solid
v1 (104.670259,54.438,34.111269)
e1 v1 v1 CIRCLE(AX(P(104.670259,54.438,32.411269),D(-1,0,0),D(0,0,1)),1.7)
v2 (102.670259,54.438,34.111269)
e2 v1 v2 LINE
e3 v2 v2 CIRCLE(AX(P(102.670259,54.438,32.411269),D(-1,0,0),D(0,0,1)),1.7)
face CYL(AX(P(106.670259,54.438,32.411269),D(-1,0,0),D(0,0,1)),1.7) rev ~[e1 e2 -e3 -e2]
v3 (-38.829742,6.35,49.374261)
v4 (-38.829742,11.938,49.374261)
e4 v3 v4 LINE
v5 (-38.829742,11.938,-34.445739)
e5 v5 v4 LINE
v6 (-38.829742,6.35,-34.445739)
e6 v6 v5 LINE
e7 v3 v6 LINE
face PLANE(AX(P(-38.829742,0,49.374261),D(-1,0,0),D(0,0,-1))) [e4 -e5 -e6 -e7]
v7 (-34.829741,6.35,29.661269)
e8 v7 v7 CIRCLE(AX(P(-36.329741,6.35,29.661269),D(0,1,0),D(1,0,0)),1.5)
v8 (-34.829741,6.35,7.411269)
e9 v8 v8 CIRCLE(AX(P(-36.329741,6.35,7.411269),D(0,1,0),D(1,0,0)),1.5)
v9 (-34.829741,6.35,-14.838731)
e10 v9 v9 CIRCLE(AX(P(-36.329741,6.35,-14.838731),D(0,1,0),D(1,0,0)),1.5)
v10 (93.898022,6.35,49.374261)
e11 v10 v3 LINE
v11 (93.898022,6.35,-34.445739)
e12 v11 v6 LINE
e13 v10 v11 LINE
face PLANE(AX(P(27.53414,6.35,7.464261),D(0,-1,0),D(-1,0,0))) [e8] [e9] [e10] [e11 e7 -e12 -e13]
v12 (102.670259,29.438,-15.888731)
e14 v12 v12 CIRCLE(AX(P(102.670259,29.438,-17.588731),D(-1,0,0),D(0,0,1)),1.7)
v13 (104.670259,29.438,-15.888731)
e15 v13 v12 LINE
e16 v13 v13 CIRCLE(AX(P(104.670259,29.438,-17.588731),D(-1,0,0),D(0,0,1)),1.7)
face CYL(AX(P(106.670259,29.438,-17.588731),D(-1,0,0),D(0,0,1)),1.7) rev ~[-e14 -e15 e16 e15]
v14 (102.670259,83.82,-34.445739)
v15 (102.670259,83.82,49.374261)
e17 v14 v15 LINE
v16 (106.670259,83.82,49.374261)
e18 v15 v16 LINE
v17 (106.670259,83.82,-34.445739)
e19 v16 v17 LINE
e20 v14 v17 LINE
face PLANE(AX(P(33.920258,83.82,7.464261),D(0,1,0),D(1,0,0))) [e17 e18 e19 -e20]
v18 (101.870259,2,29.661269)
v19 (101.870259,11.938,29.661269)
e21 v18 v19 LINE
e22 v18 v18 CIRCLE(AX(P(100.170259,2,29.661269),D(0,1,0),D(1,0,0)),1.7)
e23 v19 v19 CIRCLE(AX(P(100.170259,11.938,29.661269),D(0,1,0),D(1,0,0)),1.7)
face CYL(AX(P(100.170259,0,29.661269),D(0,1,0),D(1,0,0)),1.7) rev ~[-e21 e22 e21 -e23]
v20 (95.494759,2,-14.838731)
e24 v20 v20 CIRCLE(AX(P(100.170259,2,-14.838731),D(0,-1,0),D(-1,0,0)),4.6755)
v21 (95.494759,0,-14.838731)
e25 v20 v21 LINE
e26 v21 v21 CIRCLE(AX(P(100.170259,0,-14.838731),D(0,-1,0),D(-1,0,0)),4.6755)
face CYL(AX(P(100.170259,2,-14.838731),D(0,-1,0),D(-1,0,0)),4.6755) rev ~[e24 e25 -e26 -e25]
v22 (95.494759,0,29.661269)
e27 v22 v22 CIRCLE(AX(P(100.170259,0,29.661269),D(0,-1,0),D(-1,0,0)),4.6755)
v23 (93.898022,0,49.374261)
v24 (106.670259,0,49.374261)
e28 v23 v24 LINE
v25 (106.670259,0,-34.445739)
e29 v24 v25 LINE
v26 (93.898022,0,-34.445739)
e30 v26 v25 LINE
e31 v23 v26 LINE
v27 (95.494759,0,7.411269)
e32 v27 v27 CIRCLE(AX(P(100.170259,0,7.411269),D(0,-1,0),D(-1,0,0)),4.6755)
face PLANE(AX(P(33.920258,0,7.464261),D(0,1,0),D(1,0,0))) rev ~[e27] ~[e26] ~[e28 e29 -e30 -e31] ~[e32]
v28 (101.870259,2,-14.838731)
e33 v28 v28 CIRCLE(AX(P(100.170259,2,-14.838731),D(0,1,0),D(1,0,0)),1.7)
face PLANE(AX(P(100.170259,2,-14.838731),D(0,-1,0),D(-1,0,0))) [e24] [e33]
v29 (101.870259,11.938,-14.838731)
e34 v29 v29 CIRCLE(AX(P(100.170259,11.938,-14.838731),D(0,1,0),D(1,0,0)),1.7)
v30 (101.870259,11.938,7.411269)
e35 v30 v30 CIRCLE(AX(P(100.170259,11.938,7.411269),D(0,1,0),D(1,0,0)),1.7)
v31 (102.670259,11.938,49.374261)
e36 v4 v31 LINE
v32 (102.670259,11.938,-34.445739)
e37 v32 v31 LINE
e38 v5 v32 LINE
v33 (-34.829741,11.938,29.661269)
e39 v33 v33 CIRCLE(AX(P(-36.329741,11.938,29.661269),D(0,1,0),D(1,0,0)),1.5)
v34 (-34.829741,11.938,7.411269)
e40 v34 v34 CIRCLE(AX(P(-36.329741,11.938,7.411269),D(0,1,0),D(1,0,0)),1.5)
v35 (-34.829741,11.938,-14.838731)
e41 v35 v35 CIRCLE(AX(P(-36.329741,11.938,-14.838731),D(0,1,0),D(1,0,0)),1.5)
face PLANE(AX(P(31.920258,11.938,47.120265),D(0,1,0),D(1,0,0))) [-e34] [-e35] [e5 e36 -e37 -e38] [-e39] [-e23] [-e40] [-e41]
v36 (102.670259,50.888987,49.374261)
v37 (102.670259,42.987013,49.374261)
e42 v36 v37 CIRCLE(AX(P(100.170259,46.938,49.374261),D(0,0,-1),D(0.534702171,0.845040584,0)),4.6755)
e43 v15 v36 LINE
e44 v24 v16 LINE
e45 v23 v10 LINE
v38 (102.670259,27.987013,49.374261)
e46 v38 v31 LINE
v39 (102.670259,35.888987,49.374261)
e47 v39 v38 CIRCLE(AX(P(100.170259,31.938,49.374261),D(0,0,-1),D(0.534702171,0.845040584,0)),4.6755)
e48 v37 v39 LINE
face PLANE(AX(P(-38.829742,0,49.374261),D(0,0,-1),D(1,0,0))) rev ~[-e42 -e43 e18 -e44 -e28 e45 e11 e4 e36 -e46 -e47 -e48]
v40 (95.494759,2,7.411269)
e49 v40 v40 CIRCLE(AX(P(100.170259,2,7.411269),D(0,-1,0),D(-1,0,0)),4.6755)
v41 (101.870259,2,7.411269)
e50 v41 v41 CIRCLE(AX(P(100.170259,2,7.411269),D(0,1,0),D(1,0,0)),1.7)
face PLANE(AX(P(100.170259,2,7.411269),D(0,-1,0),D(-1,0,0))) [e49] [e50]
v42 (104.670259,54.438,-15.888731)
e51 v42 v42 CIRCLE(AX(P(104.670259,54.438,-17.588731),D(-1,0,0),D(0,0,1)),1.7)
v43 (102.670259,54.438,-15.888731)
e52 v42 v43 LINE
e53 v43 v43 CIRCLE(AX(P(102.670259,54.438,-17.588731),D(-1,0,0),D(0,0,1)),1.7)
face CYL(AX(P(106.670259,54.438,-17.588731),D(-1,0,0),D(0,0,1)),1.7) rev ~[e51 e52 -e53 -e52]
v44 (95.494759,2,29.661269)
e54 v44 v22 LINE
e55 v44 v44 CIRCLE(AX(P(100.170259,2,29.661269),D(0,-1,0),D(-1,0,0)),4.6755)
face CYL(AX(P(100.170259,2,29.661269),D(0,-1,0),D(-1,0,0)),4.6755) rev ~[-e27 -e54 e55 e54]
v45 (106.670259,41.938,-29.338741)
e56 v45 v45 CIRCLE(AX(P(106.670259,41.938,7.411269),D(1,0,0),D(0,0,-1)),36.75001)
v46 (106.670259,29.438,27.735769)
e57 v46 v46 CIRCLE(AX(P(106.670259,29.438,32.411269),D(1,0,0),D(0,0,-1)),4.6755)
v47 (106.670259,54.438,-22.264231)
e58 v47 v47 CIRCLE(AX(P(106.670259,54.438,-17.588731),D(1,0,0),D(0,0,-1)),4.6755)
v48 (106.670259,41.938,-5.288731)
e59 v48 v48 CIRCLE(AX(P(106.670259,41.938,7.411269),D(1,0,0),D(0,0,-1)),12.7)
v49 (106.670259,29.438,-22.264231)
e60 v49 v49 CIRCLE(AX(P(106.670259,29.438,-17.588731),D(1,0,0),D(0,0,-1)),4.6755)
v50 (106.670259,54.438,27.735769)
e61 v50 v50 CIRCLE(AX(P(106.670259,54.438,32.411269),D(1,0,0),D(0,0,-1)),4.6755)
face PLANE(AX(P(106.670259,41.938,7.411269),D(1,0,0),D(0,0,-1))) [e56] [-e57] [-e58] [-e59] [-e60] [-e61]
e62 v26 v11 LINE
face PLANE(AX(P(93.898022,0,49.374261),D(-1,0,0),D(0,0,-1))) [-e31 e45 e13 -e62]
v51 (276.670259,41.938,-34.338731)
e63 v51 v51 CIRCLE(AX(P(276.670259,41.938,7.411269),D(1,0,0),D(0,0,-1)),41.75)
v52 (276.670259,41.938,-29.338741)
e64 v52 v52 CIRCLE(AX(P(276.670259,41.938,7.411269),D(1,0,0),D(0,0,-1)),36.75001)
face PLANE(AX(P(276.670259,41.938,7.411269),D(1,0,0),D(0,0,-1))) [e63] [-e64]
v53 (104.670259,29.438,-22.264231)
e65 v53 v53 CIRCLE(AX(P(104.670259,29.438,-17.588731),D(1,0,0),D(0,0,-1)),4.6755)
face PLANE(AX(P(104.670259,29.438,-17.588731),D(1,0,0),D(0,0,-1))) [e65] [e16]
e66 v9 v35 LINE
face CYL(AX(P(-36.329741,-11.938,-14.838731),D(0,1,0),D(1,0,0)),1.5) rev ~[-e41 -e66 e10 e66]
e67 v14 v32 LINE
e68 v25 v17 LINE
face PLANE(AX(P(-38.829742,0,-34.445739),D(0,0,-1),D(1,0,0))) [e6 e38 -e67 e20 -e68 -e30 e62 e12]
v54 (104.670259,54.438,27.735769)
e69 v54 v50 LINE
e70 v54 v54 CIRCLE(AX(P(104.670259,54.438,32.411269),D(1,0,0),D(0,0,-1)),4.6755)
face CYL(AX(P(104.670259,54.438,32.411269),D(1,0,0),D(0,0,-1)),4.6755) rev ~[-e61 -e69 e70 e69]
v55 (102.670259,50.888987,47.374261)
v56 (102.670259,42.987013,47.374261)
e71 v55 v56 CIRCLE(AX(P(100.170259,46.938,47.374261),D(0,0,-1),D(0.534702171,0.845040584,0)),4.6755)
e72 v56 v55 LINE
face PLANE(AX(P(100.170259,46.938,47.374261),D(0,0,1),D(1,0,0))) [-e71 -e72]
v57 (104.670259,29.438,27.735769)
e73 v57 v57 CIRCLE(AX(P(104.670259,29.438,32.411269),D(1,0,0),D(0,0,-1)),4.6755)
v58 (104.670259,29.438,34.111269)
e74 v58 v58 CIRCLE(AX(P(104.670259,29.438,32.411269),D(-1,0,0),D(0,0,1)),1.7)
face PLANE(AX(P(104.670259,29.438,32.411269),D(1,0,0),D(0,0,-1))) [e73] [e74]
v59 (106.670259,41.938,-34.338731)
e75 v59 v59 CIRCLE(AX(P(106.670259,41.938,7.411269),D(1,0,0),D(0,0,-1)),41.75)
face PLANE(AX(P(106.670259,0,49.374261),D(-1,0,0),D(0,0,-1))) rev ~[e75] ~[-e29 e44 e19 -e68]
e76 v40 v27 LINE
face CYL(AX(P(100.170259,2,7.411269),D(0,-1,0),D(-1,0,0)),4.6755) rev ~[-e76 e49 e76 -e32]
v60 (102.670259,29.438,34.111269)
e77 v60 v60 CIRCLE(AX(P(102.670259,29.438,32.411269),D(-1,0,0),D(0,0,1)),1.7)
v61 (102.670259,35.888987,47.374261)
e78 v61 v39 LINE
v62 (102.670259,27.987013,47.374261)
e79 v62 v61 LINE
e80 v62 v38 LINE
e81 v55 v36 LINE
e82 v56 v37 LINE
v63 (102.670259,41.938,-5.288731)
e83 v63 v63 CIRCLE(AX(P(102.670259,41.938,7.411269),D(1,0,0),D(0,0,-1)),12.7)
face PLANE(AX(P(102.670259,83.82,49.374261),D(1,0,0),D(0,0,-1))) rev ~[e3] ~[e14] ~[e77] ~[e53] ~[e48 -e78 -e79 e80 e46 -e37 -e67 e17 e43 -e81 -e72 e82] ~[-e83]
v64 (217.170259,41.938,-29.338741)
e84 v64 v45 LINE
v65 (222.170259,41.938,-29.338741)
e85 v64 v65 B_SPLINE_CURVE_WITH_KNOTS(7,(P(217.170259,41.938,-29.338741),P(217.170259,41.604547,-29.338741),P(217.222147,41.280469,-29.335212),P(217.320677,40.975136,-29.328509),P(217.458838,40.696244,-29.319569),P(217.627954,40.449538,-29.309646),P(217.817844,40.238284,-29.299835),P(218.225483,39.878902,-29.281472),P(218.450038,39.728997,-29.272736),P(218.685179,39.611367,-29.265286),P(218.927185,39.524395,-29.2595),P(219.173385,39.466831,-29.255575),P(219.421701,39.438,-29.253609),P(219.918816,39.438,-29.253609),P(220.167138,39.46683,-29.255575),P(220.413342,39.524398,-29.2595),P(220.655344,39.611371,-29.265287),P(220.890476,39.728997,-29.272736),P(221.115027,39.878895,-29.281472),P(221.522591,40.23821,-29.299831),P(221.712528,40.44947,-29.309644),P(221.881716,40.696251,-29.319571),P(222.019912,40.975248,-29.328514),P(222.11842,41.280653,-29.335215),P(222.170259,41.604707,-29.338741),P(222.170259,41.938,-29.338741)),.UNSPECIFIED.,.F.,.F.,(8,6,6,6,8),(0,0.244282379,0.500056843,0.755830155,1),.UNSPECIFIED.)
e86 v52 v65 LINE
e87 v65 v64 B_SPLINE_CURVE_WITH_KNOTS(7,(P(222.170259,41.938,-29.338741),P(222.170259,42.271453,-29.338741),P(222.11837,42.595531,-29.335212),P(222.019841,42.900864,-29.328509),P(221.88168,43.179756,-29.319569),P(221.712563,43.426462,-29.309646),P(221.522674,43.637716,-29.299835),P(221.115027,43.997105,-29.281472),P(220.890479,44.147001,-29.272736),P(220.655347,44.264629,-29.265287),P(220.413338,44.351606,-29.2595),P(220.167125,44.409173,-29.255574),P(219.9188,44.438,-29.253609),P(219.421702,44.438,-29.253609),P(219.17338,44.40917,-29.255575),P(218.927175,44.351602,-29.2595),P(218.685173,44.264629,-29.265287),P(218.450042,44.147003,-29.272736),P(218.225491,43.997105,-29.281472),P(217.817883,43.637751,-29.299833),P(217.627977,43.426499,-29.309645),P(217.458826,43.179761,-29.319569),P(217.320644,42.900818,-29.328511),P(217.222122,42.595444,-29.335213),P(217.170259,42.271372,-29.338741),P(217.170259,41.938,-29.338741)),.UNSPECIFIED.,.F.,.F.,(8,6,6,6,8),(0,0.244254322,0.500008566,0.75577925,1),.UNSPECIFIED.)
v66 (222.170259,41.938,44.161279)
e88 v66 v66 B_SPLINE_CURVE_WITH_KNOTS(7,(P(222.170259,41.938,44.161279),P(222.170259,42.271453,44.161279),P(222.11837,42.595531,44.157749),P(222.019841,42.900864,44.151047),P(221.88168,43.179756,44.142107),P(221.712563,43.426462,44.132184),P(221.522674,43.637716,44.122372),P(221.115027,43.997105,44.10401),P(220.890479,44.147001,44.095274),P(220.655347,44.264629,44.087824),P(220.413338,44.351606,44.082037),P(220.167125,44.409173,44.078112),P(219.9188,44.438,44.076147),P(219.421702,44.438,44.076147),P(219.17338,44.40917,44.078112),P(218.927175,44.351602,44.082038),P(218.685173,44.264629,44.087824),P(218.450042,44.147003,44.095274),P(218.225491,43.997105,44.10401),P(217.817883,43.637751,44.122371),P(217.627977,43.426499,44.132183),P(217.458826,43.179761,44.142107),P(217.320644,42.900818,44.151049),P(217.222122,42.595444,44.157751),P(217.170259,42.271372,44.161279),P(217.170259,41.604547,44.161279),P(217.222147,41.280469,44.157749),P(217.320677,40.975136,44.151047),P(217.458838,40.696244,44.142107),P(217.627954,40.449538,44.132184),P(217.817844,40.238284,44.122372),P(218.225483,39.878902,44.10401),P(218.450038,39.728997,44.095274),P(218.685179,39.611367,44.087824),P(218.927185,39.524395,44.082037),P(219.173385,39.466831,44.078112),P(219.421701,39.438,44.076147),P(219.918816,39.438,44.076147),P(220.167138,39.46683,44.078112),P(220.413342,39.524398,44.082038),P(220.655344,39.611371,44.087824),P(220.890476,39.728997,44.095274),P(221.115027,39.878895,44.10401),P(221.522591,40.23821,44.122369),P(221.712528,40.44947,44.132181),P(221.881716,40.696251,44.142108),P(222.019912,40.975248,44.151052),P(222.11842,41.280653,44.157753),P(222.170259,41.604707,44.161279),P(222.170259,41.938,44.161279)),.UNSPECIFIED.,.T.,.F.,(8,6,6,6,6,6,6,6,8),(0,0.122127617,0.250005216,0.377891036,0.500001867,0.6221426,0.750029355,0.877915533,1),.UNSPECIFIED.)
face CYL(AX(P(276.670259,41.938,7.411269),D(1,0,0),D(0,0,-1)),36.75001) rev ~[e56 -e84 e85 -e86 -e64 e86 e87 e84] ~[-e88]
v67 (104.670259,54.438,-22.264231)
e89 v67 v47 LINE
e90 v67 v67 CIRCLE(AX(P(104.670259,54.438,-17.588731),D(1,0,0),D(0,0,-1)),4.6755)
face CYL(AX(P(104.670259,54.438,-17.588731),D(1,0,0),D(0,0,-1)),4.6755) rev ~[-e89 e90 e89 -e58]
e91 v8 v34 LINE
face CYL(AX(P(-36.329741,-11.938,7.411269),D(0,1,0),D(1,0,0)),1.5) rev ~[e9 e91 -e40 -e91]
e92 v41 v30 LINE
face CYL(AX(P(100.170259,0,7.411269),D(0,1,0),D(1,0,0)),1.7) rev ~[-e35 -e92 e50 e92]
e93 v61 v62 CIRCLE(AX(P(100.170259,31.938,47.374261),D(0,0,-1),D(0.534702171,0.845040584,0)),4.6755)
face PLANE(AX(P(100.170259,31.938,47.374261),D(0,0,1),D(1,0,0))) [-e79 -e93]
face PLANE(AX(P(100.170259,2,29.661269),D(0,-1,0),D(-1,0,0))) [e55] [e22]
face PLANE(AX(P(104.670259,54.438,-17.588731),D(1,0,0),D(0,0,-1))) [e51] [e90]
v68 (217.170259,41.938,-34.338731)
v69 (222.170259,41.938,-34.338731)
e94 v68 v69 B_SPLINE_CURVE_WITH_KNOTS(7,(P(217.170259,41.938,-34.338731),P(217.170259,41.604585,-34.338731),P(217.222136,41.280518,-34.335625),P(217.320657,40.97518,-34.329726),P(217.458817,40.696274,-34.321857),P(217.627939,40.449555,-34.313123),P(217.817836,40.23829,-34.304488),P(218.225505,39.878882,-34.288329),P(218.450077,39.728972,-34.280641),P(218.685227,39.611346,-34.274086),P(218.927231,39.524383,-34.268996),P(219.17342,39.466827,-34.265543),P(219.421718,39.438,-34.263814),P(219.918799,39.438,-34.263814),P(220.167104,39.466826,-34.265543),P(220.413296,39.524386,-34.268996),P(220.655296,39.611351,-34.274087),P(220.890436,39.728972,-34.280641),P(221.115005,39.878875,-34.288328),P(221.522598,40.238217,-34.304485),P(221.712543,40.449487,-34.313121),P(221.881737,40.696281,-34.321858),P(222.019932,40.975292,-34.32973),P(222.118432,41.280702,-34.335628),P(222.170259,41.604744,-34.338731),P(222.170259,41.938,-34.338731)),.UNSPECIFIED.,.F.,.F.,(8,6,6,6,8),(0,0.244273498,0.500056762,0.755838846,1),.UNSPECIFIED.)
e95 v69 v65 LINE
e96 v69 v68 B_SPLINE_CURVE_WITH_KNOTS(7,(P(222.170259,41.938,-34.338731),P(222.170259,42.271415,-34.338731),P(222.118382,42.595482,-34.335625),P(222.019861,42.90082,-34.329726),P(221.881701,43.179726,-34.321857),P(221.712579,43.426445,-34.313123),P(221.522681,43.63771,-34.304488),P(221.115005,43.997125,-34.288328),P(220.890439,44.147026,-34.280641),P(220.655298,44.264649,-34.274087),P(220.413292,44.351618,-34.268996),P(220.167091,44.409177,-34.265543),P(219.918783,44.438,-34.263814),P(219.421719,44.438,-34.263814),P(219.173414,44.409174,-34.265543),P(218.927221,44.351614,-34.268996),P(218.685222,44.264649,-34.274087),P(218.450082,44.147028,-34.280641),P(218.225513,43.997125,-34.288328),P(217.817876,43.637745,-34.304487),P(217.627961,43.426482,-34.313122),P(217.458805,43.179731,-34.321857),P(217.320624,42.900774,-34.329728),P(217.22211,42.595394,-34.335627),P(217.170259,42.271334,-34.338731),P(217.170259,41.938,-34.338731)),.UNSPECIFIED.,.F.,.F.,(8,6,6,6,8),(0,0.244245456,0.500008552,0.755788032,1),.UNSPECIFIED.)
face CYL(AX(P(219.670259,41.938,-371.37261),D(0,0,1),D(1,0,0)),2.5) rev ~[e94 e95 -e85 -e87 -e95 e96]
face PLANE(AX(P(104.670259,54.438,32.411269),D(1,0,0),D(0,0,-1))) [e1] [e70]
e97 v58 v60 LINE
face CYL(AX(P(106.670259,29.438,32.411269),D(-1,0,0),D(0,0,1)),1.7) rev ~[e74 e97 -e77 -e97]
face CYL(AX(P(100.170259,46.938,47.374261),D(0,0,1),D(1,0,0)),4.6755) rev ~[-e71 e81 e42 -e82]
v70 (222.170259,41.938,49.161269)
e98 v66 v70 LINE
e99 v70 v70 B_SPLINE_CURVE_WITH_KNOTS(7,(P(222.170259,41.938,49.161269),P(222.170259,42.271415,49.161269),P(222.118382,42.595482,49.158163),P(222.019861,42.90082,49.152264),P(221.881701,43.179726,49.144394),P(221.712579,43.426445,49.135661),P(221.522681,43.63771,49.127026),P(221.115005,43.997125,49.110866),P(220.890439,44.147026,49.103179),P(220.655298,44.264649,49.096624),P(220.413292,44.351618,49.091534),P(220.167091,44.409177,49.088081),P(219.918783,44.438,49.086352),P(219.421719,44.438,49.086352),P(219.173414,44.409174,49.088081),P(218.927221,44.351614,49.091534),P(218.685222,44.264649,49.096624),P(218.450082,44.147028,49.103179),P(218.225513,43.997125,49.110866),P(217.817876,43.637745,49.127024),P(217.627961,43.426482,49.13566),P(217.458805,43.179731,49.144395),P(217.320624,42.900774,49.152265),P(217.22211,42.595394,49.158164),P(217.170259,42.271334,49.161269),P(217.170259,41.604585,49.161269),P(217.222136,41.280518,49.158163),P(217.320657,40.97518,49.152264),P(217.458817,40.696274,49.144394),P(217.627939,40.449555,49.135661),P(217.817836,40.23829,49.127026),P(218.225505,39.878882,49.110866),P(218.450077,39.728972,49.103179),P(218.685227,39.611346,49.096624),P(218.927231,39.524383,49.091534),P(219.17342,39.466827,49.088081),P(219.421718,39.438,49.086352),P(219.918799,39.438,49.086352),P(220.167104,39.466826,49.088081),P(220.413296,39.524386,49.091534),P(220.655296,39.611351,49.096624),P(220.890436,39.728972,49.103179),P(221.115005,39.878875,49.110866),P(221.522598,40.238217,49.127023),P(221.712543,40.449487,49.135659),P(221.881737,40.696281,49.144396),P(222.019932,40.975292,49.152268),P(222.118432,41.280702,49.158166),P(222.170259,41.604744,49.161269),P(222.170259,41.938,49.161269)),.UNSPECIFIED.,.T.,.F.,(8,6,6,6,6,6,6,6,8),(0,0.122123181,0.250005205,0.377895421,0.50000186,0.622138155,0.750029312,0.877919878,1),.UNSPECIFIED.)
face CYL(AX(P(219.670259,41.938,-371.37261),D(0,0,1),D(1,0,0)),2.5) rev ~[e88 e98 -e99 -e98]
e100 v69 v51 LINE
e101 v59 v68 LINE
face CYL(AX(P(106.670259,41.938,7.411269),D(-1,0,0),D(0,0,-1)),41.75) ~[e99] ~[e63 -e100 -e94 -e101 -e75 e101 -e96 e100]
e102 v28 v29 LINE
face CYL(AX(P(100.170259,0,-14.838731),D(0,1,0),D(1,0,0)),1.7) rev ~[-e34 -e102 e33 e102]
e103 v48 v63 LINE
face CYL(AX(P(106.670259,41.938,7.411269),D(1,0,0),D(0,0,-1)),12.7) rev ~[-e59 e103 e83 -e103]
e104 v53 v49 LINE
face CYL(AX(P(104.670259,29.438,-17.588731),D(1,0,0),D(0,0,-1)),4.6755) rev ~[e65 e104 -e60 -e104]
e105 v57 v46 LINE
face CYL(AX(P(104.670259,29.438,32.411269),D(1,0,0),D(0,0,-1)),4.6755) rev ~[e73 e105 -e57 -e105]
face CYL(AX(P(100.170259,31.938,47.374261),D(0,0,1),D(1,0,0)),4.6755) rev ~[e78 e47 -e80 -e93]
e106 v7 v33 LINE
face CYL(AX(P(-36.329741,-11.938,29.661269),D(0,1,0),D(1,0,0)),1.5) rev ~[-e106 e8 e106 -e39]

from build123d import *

# Parameters (mm, degrees)
SKETCH3_W                                    = 145.5000011
SKETCH3_H                                    = 83.82
BOSS_EXTRUDE1_DEPTH                          = 83.82
SKETCH4_W                                    = 141.50000148
SKETCH4_H                                    = 79.312008
CUT_EXTRUDE1_DEPTH                           = 71.882
CBORE_FOR_M3_HEX_HEAD_CAP_SCREW1_D           = 3.4
CBORE_FOR_M3_HEX_HEAD_CAP_SCREW1_DEPTH       = 3.99999962
CBORE_FOR_M3_HEX_HEAD_CAP_SCREW1_CBORE_D     = 9.351
CBORE_FOR_M3_HEX_HEAD_CAP_SCREW1_CBORE_DEPTH = 2
CUT_EXTRUDE3_REACH                           = 147.5
SKETCH5_R                                    = 12.7
CBORE_FOR_M3_HEX_HEAD_CAP_SCREW2_D           = 3.4
CBORE_FOR_M3_HEX_HEAD_CAP_SCREW2_DEPTH       = 4.507992
CBORE_FOR_M3_HEX_HEAD_CAP_SCREW2_CBORE_D     = 9.351
CBORE_FOR_M3_HEX_HEAD_CAP_SCREW2_CBORE_DEPTH = 2
F_3_0MM_DOWEL_HOLE1_D                        = 3
F_3_0MM_DOWEL_HOLE1_DEPTH                    = 4.507992
F_3_0MM_DOWEL_HOLE2_D                        = 3
F_3_0MM_DOWEL_HOLE2_DEPTH                    = 11.938
CBORE_FOR_M3_HEX_HEAD_CAP_SCREW3_D           = 3.4
CBORE_FOR_M3_HEX_HEAD_CAP_SCREW3_DEPTH       = 11.938
CBORE_FOR_M3_HEX_HEAD_CAP_SCREW3_CBORE_D     = 9.351
CBORE_FOR_M3_HEX_HEAD_CAP_SCREW3_CBORE_DEPTH = 2
SKETCH22_R                                   = 41.75000032
BOSS_EXTRUDE3_DEPTH                          = 170
SKETCH26_R                                   = 36.75001032
CUT_EXTRUDE5_DEPTH                           = 170
SKETCH27_W                                   = 141.50000148
SKETCH27_H                                   = 4.507992
CUT_EXTRUDE7_DEPTH                           = 71.882
SKETCH28_W                                   = 132.727764313
SKETCH28_H                                   = 83.82
CUT_EXTRUDE8_DEPTH                           = 6.35
TAP_DRILL_FOR_M6_TAP2_D                      = 5


with BuildPart() as part:
    # Sketch3 → Boss-Extrude1 (new body)
    with BuildSketch(Plane(origin=(0, 0, 0), x_dir=(1, 0, 0), z_dir=(0, 1, 0))):
        with Locations((33.920258223, -7.464260839)):
            Rectangle(SKETCH3_W, SKETCH3_H)
    extrude(amount=BOSS_EXTRUDE1_DEPTH)

    # Sketch4 → Cut-Extrude1 (cut)
    with BuildSketch(Plane(origin=(0, 83.82, 0), x_dir=(1, 0, 0), z_dir=(0, 1, 0))):
        with Locations((31.920258413, -5.210264839)):
            Rectangle(SKETCH4_W, SKETCH4_H)
    extrude(amount=-CUT_EXTRUDE1_DEPTH, mode=Mode.SUBTRACT)

    # CBORE for M3 Hex Head Cap Screw1
    with Locations(Plane(origin=(106.670258773, 0, 0), x_dir=(0, 0, -1), z_dir=(1, 0, 0))):
        with Locations((-32.411268839, 54.438), (17.588731161, 54.438), (17.588731161, 29.438), (-32.411268839, 29.438)):
            CounterBoreHole(CBORE_FOR_M3_HEX_HEAD_CAP_SCREW1_D / 2, CBORE_FOR_M3_HEX_HEAD_CAP_SCREW1_CBORE_D / 2, CBORE_FOR_M3_HEX_HEAD_CAP_SCREW1_CBORE_DEPTH, depth=CBORE_FOR_M3_HEX_HEAD_CAP_SCREW1_DEPTH)

    # Sketch5 → Cut-Extrude3 (cut, up to next)
    with BuildSketch(Plane(origin=(106.670258773, 0, 0), x_dir=(0, 0, -1), z_dir=(1, 0, 0)), mode=Mode.PRIVATE) as cut_extrude3_sk1:
        with Locations((-7.411268839, 41.938)):
            Circle(SKETCH5_R)
    cut_extrude3_tool1 = extrude(cut_extrude3_sk1.sketch, amount=-CUT_EXTRUDE3_REACH, mode=Mode.PRIVATE) & part.part
    add(cut_extrude3_tool1.solids().sort_by_distance((106.670259, 41.938, 7.411269))[0], mode=Mode.SUBTRACT)

    # CBORE for M3 Hex Head Cap Screw2
    with Locations(Plane.XY.offset(49.374260839)):
        with Locations((100.170259153, 46.938), (100.170259153, 31.938)):
            CounterBoreHole(CBORE_FOR_M3_HEX_HEAD_CAP_SCREW2_D / 2, CBORE_FOR_M3_HEX_HEAD_CAP_SCREW2_CBORE_D / 2, CBORE_FOR_M3_HEX_HEAD_CAP_SCREW2_CBORE_DEPTH, depth=CBORE_FOR_M3_HEX_HEAD_CAP_SCREW2_DEPTH)

    # Ø3.0mm Dowel Hole1
    with Locations(Plane.XY.offset(49.374260839)):
        with Locations((-36.329740847, 46.938), (-36.329740847, 31.938)):
            Hole(F_3_0MM_DOWEL_HOLE1_D / 2, depth=F_3_0MM_DOWEL_HOLE1_DEPTH)

    # Ø3.0mm Dowel Hole2
    with Locations(Plane(origin=(0, 0, 0), x_dir=(-1, 0, 0), z_dir=(0, -1, 0))):
        with Locations((36.329740847, -29.661268839), (36.329740847, -7.411268839), (36.329740847, 14.838731161)):
            Hole(F_3_0MM_DOWEL_HOLE2_D / 2, depth=F_3_0MM_DOWEL_HOLE2_DEPTH)

    # CBORE for M3 Hex Head Cap Screw3
    with Locations(Plane(origin=(0, 0, 0), x_dir=(-1, 0, 0), z_dir=(0, -1, 0))):
        with Locations((-100.170259153, -29.661268839), (-100.170259153, -7.411268839), (-100.170259153, 14.838731161)):
            CounterBoreHole(CBORE_FOR_M3_HEX_HEAD_CAP_SCREW3_D / 2, CBORE_FOR_M3_HEX_HEAD_CAP_SCREW3_CBORE_D / 2, CBORE_FOR_M3_HEX_HEAD_CAP_SCREW3_CBORE_DEPTH, depth=CBORE_FOR_M3_HEX_HEAD_CAP_SCREW3_DEPTH)

    # Sketch22 → Boss-Extrude3 (add)
    with BuildSketch(Plane(origin=(106.670258773, 0, 0), x_dir=(0, 0, -1), z_dir=(1, 0, 0))):
        with Locations((-7.411268839, 41.938)):
            Circle(SKETCH22_R)
    extrude(amount=BOSS_EXTRUDE3_DEPTH)

    # Sketch26 → Cut-Extrude5 (cut)
    with BuildSketch(Plane(origin=(276.670258773, 0, 0), x_dir=(0, 0, -1), z_dir=(1, 0, 0))):
        with Locations((-7.411268839, 41.938)):
            Circle(SKETCH26_R)
    extrude(amount=-CUT_EXTRUDE5_DEPTH, mode=Mode.SUBTRACT)

    # Sketch27 → Cut-Extrude7 (cut)
    with BuildSketch(Plane(origin=(0, 83.82, 0), x_dir=(1, 0, 0), z_dir=(0, 1, 0))):
        with Locations((31.920258413, -47.120264839)):
            Rectangle(SKETCH27_W, SKETCH27_H)
    extrude(amount=-CUT_EXTRUDE7_DEPTH, mode=Mode.SUBTRACT)

    # Sketch28 → Cut-Extrude8 (cut)
    with BuildSketch(Plane(origin=(0, 0, 0), x_dir=(-1, 0, 0), z_dir=(0, -1, 0))):
        with Locations((-27.534139829, -7.464260839)):
            Rectangle(SKETCH28_W, SKETCH28_H)
    extrude(amount=-CUT_EXTRUDE8_DEPTH, mode=Mode.SUBTRACT)

    # Tap Drill for M6 Tap2 (through all)
    with Locations(Plane(origin=(191.670258773, 41.938, -34.338731481), x_dir=(-1, 0, 0), z_dir=(0, 0, -1))):
        with Locations((-28, 0)):
            Hole(TAP_DRILL_FOR_M6_TAP2_D / 2)


solid = part.part
